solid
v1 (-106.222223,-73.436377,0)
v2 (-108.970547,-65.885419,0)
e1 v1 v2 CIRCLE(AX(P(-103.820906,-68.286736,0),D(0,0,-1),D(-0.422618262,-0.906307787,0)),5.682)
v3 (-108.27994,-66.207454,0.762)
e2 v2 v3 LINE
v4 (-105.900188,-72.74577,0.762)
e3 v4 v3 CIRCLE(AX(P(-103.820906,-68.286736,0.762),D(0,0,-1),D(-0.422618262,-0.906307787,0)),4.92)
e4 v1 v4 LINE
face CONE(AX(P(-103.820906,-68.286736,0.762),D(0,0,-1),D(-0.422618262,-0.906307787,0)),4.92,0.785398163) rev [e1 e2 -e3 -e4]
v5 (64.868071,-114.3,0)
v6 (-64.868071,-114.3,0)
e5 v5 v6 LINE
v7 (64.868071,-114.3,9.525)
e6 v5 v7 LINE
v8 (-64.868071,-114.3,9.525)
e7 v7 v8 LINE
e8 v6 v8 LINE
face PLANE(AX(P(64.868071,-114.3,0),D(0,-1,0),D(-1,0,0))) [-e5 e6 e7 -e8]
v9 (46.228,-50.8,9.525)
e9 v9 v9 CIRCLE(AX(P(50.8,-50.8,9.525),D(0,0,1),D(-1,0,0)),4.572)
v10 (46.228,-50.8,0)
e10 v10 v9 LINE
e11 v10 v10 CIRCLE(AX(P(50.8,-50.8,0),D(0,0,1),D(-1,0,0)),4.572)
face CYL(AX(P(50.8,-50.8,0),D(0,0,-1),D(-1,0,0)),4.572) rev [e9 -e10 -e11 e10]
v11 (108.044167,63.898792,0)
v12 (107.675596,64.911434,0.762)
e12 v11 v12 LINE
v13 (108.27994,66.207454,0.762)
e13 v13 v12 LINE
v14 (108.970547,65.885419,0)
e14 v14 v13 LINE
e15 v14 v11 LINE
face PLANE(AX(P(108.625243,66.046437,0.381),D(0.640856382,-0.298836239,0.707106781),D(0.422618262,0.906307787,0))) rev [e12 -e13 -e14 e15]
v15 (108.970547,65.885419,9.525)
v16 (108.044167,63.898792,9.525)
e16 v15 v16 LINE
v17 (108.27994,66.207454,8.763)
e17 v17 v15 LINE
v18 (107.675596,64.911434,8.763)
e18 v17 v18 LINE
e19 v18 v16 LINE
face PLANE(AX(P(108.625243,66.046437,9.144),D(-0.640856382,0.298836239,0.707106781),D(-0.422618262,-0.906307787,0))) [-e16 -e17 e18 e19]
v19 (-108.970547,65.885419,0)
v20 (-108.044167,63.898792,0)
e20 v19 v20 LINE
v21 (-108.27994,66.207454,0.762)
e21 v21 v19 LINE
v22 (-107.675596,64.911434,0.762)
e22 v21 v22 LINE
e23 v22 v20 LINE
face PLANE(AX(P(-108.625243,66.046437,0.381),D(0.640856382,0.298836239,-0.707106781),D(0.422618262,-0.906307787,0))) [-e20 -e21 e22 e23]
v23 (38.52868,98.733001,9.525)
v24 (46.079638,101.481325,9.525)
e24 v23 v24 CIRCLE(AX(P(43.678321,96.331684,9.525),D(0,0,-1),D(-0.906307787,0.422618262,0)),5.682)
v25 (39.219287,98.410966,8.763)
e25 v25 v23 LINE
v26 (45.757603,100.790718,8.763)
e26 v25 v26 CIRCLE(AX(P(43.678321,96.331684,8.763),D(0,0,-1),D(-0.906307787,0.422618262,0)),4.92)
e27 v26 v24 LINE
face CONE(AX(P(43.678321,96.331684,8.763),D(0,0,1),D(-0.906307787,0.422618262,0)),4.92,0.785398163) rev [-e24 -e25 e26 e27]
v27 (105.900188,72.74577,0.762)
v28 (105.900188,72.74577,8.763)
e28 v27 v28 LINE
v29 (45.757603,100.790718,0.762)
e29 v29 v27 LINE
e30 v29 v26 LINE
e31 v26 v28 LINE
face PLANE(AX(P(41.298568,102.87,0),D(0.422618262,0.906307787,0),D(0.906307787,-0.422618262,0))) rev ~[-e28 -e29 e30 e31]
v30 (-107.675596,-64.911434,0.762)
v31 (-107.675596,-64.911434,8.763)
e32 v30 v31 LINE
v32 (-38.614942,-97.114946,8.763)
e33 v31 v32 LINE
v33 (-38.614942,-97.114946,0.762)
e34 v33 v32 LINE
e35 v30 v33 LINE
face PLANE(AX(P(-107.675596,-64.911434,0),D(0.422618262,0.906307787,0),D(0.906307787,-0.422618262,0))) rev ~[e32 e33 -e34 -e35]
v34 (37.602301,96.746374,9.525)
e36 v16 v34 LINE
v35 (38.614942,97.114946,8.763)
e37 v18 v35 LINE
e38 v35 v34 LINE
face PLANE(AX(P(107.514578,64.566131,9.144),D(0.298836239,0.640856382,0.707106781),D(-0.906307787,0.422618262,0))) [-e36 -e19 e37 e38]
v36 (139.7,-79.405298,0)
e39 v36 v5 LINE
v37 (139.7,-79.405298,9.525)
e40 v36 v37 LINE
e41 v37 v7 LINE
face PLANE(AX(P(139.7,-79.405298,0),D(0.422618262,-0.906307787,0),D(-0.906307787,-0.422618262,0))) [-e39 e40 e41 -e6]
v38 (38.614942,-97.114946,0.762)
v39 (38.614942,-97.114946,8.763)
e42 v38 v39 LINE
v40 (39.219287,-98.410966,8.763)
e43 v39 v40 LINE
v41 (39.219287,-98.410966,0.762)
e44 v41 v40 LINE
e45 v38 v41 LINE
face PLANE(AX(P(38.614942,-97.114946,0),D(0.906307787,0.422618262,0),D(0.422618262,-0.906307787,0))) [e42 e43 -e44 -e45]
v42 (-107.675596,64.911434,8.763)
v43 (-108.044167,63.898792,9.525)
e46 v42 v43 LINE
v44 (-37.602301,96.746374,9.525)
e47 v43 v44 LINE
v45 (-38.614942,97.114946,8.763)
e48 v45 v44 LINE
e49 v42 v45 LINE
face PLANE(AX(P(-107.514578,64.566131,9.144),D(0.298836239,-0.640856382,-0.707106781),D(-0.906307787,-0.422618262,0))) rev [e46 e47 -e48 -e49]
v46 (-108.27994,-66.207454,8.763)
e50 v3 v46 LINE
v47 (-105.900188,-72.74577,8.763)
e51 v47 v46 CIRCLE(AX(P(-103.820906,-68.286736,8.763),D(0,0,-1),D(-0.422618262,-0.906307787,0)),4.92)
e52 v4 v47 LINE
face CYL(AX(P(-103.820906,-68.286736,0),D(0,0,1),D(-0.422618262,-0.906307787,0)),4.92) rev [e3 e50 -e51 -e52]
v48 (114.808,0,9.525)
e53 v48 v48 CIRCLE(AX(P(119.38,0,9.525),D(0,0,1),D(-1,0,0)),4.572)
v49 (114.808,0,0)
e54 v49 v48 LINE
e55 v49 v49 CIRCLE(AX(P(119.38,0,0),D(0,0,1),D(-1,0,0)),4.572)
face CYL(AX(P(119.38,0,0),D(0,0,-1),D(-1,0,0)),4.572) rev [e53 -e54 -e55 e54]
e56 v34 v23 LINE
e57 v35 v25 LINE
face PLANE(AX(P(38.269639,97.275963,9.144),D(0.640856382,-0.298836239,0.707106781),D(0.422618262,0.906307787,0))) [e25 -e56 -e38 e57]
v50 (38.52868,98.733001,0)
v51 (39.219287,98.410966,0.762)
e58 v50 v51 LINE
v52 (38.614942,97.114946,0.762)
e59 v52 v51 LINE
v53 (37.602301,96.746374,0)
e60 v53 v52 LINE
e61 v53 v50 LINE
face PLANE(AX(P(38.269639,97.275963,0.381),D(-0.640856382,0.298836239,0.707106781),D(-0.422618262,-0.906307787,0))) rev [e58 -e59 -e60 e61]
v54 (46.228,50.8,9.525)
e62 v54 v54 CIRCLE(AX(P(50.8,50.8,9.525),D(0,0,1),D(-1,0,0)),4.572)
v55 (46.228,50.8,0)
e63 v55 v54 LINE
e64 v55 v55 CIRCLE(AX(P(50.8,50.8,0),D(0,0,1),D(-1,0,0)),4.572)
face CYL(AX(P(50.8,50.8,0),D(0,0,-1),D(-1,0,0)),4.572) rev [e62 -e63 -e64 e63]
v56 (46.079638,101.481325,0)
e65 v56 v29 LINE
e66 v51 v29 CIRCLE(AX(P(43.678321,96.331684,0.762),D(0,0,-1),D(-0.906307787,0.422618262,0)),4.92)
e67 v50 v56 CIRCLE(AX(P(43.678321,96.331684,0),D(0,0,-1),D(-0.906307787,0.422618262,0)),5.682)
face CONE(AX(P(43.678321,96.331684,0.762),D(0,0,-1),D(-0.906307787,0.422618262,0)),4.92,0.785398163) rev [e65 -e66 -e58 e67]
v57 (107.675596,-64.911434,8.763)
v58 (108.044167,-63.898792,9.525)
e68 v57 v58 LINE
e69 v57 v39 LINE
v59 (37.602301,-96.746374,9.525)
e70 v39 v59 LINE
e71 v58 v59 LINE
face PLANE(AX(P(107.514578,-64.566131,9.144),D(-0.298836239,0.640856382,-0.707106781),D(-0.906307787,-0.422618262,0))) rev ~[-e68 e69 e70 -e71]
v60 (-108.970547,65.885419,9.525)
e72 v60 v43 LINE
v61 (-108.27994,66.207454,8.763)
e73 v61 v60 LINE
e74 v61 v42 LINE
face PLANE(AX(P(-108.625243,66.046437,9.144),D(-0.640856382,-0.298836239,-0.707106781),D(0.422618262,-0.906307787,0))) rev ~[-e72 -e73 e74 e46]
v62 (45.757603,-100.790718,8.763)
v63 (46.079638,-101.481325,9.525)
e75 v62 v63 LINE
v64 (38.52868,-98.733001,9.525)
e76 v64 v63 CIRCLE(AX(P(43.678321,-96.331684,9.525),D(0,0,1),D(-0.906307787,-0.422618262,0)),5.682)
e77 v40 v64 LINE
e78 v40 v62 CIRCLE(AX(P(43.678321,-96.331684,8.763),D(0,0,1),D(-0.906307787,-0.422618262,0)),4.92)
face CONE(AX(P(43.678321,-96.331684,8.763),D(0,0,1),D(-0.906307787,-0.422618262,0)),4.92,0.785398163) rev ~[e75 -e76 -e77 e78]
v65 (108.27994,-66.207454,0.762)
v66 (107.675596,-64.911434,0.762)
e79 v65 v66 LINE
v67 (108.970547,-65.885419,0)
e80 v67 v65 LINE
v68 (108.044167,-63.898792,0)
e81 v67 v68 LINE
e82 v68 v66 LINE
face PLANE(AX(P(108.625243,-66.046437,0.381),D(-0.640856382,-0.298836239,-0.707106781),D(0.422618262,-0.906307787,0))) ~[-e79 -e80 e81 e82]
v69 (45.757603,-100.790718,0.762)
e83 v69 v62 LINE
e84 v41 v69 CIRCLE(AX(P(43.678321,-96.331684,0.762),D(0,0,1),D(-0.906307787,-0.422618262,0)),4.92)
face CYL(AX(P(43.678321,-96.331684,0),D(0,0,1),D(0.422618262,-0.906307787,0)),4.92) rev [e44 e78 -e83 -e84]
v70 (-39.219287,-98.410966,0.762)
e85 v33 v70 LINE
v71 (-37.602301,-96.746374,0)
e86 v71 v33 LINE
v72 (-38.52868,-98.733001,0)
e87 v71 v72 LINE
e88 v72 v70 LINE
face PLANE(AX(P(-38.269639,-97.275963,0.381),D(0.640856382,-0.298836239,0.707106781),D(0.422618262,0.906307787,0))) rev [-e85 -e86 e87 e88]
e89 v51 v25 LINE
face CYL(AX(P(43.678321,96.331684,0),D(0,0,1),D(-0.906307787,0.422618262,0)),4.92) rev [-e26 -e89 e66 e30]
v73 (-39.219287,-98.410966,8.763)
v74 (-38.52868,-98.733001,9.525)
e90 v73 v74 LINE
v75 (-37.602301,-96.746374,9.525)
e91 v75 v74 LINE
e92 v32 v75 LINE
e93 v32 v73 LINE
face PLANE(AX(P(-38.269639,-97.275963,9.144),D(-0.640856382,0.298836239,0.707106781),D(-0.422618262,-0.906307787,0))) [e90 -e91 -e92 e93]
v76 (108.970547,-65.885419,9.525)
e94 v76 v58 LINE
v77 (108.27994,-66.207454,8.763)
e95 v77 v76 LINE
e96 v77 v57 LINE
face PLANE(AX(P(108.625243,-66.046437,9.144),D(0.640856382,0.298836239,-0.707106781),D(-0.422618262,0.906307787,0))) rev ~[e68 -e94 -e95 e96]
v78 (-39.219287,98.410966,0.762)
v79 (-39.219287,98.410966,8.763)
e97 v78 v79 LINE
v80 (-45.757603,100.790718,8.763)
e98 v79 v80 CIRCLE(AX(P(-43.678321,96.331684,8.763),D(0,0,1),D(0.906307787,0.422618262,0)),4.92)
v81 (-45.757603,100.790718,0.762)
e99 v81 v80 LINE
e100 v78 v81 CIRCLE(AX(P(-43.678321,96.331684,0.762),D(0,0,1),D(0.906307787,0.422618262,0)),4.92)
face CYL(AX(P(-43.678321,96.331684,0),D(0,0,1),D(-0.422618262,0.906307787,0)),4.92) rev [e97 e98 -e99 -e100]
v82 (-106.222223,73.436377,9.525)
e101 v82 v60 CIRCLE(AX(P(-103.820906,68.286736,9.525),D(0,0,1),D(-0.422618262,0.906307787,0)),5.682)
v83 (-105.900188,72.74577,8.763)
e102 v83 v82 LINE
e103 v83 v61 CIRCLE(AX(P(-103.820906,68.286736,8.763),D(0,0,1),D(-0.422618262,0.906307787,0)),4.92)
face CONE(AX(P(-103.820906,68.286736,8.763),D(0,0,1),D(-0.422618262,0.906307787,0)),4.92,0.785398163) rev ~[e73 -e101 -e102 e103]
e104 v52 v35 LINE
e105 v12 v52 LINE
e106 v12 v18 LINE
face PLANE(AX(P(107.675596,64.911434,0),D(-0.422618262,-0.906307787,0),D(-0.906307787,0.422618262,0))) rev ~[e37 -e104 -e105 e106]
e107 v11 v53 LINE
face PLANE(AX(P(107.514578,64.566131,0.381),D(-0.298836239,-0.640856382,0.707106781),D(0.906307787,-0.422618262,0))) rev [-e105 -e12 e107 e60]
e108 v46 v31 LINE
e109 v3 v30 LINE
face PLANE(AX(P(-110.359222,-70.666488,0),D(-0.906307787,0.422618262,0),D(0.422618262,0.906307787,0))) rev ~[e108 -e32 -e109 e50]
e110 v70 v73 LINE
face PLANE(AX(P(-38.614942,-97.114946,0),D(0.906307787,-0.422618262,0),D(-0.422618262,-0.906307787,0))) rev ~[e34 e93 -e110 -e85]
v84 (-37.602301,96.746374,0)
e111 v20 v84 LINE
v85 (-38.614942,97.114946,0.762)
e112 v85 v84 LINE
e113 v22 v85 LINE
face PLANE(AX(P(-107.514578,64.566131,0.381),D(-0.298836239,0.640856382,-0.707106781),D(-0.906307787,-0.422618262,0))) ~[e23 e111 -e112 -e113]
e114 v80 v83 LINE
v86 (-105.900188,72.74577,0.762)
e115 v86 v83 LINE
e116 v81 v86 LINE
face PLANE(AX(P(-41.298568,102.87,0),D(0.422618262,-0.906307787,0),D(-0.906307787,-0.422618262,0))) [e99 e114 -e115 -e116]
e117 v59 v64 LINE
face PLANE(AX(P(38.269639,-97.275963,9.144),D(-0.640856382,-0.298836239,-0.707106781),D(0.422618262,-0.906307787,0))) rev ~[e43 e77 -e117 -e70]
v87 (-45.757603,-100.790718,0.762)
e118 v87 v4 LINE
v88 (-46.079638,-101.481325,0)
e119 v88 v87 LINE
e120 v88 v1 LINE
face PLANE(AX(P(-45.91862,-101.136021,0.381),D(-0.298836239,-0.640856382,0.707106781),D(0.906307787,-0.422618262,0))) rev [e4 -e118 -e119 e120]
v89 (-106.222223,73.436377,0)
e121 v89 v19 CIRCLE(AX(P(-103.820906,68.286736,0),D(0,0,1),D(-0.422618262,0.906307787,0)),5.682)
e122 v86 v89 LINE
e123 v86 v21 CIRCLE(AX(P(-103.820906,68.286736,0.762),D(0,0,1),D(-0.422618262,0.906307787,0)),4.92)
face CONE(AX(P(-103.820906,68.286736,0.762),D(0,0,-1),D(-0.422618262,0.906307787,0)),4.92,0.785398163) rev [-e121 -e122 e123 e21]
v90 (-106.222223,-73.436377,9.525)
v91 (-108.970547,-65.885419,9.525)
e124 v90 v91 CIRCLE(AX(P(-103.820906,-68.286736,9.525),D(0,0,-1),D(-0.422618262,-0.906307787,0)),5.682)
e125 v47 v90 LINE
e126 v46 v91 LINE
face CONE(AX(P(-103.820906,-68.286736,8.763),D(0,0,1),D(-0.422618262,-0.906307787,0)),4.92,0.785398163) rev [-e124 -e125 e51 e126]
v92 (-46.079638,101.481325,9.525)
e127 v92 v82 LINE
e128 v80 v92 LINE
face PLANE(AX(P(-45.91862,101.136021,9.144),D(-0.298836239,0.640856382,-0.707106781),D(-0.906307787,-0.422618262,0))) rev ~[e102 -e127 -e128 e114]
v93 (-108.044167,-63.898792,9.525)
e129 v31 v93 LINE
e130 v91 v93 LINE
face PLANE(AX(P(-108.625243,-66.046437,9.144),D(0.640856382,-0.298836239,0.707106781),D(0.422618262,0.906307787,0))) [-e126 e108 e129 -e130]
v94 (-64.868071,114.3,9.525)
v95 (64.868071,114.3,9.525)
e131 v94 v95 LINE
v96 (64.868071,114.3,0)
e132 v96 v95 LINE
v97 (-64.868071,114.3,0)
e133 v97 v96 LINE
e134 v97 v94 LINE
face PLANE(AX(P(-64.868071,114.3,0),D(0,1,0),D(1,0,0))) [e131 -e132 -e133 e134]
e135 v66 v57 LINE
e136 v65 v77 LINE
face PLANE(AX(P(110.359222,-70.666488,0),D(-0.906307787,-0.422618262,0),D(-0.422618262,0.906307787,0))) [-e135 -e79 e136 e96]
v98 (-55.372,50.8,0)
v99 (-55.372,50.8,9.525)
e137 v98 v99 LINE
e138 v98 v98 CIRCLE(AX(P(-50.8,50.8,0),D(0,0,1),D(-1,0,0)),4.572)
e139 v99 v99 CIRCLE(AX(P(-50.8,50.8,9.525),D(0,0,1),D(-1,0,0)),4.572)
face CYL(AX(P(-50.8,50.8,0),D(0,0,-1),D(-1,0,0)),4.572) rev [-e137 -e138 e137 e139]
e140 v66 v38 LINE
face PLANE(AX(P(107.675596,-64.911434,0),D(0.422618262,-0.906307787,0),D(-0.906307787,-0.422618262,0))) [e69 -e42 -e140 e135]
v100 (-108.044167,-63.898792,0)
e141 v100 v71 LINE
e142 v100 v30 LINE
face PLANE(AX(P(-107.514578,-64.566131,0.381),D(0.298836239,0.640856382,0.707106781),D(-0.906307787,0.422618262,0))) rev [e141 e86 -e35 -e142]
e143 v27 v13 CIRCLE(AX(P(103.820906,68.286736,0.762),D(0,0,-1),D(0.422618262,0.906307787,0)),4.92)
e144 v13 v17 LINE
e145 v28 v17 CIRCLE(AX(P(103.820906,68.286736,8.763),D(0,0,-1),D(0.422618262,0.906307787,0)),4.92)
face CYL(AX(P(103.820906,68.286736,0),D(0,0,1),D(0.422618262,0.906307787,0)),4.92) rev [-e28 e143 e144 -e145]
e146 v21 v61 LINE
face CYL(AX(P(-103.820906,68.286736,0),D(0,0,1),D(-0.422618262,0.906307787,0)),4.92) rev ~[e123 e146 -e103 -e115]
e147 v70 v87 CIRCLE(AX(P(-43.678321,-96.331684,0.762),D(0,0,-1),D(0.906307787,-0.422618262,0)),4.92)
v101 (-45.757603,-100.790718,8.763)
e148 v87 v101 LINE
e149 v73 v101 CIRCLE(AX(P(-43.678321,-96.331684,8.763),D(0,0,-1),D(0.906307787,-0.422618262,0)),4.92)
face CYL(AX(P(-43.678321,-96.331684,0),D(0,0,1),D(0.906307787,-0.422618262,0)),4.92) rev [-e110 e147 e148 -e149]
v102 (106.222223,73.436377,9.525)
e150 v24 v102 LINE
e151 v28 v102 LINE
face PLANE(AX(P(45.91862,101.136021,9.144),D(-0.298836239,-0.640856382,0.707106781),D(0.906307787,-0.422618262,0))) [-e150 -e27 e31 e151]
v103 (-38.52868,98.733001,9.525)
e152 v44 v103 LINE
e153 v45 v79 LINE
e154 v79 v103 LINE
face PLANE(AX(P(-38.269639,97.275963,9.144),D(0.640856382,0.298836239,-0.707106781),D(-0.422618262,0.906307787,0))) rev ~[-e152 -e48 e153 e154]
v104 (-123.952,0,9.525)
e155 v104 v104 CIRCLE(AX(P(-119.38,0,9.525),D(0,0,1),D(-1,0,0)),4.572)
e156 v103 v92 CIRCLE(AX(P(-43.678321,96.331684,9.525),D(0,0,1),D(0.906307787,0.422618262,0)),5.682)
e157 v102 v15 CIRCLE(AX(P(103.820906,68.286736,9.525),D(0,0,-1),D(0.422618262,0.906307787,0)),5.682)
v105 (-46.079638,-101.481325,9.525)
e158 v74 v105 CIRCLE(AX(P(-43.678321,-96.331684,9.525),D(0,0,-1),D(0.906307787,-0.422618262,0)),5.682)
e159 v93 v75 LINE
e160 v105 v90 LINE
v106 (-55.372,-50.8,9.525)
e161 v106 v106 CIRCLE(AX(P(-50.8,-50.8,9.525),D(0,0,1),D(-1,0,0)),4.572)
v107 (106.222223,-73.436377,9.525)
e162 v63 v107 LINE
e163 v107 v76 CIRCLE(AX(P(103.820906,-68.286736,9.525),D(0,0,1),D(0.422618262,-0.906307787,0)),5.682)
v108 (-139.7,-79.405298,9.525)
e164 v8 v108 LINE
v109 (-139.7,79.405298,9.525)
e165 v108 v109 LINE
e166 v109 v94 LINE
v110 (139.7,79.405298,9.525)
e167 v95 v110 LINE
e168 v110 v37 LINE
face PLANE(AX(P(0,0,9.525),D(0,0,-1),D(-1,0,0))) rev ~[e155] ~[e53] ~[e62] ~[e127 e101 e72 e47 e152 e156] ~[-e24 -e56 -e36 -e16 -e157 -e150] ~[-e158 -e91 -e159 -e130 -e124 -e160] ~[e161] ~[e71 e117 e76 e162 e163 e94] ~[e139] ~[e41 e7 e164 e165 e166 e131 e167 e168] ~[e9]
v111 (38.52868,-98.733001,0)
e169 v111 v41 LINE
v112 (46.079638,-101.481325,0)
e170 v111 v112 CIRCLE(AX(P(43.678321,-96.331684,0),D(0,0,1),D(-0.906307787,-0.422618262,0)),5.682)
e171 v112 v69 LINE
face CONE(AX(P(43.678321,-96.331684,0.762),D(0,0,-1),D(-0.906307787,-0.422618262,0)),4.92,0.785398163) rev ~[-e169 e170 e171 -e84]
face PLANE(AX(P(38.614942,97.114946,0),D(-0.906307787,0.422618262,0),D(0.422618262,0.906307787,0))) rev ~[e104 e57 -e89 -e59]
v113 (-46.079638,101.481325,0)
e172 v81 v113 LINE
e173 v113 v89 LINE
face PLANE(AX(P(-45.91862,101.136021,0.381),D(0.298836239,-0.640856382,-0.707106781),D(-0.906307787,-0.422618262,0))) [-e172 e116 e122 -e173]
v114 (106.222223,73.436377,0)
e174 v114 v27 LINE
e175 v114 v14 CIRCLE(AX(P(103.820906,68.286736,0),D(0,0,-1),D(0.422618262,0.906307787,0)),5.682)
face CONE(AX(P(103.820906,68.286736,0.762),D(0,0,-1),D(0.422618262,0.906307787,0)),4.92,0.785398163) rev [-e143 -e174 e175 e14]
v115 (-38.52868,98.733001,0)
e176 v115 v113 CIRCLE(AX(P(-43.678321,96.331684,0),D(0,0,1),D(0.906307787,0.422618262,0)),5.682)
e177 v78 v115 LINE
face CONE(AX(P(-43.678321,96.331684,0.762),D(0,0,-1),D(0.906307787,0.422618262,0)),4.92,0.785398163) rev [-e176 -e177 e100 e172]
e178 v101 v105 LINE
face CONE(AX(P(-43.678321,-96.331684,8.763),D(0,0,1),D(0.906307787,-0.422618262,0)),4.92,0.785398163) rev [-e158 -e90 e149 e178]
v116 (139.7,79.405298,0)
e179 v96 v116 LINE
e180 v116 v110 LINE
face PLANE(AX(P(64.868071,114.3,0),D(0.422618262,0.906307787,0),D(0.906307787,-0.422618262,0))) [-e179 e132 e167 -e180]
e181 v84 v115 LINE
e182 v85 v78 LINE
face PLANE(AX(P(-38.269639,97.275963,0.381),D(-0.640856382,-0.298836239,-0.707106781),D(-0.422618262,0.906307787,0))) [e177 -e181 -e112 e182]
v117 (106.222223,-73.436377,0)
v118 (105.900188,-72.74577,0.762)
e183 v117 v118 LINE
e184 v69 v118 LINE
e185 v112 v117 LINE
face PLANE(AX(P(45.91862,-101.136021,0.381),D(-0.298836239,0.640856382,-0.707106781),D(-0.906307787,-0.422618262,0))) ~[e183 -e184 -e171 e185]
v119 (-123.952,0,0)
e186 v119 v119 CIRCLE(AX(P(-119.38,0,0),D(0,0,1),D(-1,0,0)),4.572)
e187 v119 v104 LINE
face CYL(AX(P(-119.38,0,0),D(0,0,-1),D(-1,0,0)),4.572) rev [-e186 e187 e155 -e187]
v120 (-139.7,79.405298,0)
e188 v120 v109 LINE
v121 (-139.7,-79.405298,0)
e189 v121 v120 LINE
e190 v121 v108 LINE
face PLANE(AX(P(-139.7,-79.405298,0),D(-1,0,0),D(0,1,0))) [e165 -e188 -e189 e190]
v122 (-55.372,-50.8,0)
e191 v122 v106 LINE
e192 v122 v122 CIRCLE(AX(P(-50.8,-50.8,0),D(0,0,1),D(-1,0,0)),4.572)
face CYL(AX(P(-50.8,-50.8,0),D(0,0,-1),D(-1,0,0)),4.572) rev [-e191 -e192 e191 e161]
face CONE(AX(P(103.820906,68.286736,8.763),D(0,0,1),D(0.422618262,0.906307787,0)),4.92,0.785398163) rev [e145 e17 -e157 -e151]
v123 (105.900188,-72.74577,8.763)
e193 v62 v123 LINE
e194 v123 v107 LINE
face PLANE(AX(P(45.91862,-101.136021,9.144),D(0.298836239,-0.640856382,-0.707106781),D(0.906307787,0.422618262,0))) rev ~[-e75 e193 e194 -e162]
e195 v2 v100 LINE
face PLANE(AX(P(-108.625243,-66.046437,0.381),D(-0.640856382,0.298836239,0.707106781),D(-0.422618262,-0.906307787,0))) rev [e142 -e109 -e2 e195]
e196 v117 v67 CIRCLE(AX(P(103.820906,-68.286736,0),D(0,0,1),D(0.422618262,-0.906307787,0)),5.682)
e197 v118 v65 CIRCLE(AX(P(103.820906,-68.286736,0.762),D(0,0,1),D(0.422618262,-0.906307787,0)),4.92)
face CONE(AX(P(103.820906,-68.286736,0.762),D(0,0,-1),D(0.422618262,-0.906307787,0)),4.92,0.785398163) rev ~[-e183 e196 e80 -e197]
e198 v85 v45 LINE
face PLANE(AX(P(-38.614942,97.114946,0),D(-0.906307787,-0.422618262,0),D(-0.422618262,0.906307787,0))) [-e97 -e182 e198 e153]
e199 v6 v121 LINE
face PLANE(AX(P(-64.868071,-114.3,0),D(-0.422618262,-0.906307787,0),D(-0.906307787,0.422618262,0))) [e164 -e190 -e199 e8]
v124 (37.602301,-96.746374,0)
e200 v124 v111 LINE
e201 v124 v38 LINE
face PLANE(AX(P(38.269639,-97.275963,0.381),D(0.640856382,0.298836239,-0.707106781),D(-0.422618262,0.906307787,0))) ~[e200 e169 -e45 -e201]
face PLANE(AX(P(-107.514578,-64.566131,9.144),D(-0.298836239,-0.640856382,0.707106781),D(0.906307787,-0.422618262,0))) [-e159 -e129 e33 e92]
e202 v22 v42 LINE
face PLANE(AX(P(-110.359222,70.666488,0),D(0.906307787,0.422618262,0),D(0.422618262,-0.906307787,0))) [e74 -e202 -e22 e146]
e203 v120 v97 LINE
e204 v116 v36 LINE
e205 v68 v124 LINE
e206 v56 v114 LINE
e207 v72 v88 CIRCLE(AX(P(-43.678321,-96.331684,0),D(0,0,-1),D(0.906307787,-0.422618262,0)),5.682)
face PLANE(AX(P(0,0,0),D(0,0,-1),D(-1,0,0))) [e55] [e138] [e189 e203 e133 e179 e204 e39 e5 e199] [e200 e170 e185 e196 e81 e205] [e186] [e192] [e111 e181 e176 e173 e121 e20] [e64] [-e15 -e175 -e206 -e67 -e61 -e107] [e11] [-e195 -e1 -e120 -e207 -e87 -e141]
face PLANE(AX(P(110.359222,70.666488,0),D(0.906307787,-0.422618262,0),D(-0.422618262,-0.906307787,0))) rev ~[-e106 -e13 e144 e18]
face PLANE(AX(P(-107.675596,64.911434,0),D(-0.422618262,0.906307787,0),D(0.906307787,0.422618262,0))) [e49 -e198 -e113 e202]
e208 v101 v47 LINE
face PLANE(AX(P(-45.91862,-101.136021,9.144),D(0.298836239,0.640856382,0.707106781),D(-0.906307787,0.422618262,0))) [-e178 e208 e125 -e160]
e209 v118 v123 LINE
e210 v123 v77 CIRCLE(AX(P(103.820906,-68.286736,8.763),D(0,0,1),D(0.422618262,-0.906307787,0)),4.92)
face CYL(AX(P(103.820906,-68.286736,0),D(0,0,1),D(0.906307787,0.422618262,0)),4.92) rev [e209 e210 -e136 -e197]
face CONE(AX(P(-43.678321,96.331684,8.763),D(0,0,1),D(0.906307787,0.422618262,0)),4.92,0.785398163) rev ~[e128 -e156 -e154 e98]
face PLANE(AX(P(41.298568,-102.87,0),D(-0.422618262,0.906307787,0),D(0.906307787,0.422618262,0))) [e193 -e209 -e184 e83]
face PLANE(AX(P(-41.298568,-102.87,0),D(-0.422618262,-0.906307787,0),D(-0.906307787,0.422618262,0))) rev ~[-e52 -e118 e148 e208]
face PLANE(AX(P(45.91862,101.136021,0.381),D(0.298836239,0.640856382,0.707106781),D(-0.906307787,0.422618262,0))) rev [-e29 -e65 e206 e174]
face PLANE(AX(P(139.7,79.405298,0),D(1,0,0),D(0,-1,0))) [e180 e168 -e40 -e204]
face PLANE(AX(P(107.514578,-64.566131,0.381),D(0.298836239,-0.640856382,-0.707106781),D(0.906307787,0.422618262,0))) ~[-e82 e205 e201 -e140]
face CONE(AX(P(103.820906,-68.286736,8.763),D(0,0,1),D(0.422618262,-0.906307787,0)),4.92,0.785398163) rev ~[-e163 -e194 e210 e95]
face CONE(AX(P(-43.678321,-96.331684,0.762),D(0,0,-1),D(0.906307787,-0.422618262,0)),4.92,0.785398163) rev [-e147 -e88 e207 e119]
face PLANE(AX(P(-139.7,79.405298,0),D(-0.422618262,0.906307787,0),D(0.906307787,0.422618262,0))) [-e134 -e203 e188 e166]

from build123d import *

# Parameters (mm, degrees)
SKETCH3_R           = 4.572
BOSS_EXTRUDE1_DEPTH = 9.525
FILLET1_R           = 4.92
FILLET2_R           = 4.92
CHAMFER1_SIZE       = 0.762
CHAMFER2_SIZE       = 0.762
FILLET3_R           = 4.92
FILLET4_R           = 4.92
FILLET5_R           = 4.92
FILLET6_R           = 4.92
FILLET7_R           = 4.92
FILLET8_R           = 4.92
CHAMFER3_SIZE       = 0.762
CHAMFER4_SIZE       = 0.762
CHAMFER5_SIZE       = 0.762


with BuildPart() as part:
    # Sketch3 → Boss-Extrude1 (new body)
    with BuildSketch(Plane.XY):
        Polygon((64.86807053, -114.3), (-64.86807053, -114.3), (-139.7, -79.405298214), (-139.7, 79.405298214), (-64.86807053, 114.3), (64.86807053, 114.3), (139.7, 79.405298214), (139.7, -79.405298214), align=None)
        with Locations(Location((-50.8, 50.8, 0), (0, 0, 180))):
            Circle(SKETCH3_R, mode=Mode.SUBTRACT)
        with Locations(Location((50.8, 50.8, 0), (0, 0, 180))):
            Circle(SKETCH3_R, mode=Mode.SUBTRACT)
        with Locations(Location((50.8, -50.8, 0), (0, 0, 180))):
            Circle(SKETCH3_R, mode=Mode.SUBTRACT)
        with Locations(Location((-50.8, -50.8, 0), (0, 0, 180))):
            Circle(SKETCH3_R, mode=Mode.SUBTRACT)
        with Locations(Location((-119.38, 0, 0), (0, 0, 180))):
            Circle(SKETCH3_R, mode=Mode.SUBTRACT)
        with Locations(Location((119.38, 0, 0), (0, 0, 180))):
            Circle(SKETCH3_R, mode=Mode.SUBTRACT)
        Polygon((-107.675595872, 64.911434008), (-38.6149425, 97.114945552), (-41.298568462, 102.87), (-110.359221834, 70.666488455), align=None, mode=Mode.SUBTRACT)
        Polygon((38.6149425, 97.114945552), (41.298568462, 102.87), (110.359221834, 70.666488455), (107.675595872, 64.911434008), align=None, mode=Mode.SUBTRACT)
        Polygon((-38.6149425, -97.114945552), (-41.298568462, -102.87), (-110.359221834, -70.666488455), (-107.675595872, -64.911434008), align=None, mode=Mode.SUBTRACT)
        Polygon((107.675595872, -64.911434008), (38.6149425, -97.114945552), (41.298568462, -102.87), (110.359221834, -70.666488455), align=None, mode=Mode.SUBTRACT)
    extrude(amount=BOSS_EXTRUDE1_DEPTH)

    # Fillet1
    fillet1_edges = [part.edges().sort_by_distance(p)[0] for p in [
        (-41.298568462, 102.87, 4.7625),
    ]]
    fillet(fillet1_edges, radius=FILLET1_R)

    # Fillet2
    fillet2_edges = [part.edges().sort_by_distance(p)[0] for p in [
        (-110.359221834, 70.666488455, 4.7625),
    ]]
    fillet(fillet2_edges, radius=FILLET2_R)

    # Chamfer1
    chamfer1_edges = [part.edges().sort_by_distance(p)[0] for p in [
        (-75.828895148, 86.768244228, 9.525),
        (-41.995581821, 100.954971534, 9.525),
        (-107.977767929, 65.559444075, 9.525),
        (-108.444193368, 69.969475096, 9.525),
        (-73.145269186, 81.01318978, 9.525),
        (-38.917114557, 97.76295562, 9.525),
    ]]
    chamfer(chamfer1_edges, length=CHAMFER1_SIZE)

    # Chamfer2
    chamfer2_edges = [part.edges().sort_by_distance(p)[0] for p in [
        (-75.828895148, 86.768244228, 0),
        (-41.995581821, 100.954971534, 0),
        (-107.977767929, 65.559444075, 0),
        (-108.444193368, 69.969475096, 0),
        (-73.145269186, 81.01318978, 0),
        (-38.917114557, 97.76295562, 0),
    ]]
    chamfer(chamfer2_edges, length=CHAMFER2_SIZE)

    # Fillet3
    fillet3_edges = [part.edges().sort_by_distance(p)[0] for p in [
        (41.298568462, 102.87, 4.7625),
    ]]
    fillet(fillet3_edges, radius=FILLET3_R)

    # Fillet4
    fillet4_edges = [part.edges().sort_by_distance(p)[0] for p in [
        (110.359221834, 70.666488455, 4.7625),
    ]]
    fillet(fillet4_edges, radius=FILLET4_R)

    # Fillet5
    fillet5_edges = [part.edges().sort_by_distance(p)[0] for p in [
        (110.359221834, -70.666488455, 4.7625),
    ]]
    fillet(fillet5_edges, radius=FILLET5_R)

    # Fillet6
    fillet6_edges = [part.edges().sort_by_distance(p)[0] for p in [
        (41.298568462, -102.87, 4.7625),
    ]]
    fillet(fillet6_edges, radius=FILLET6_R)

    # Fillet7
    fillet7_edges = [part.edges().sort_by_distance(p)[0] for p in [
        (-41.298568462, -102.87, 4.7625),
    ]]
    fillet(fillet7_edges, radius=FILLET7_R)

    # Fillet8
    fillet8_edges = [part.edges().sort_by_distance(p)[0] for p in [
        (-110.359221834, -70.666488455, 4.7625),
    ]]
    fillet(fillet8_edges, radius=FILLET8_R)

    # Chamfer3
    chamfer3_edges = [part.edges().sort_by_distance(p)[0] for p in [
        (38.917114557, 97.76295562, 0),
        (38.917114557, 97.76295562, 9.525),
        (41.995581821, 100.954971534, 0),
        (41.995581821, 100.954971534, 9.525),
        (75.828895148, 86.768244228, 9.525),
        (75.828895148, 86.768244228, 0),
        (108.444193368, 69.969475096, 0),
        (108.444193368, 69.969475096, 9.525),
        (73.145269186, 81.01318978, 0),
        (107.977767929, 65.559444075, 0),
        (73.145269186, 81.01318978, 9.525),
        (107.977767929, 65.559444075, 9.525),
    ]]
    chamfer(chamfer3_edges, length=CHAMFER3_SIZE)

    # Chamfer4
    chamfer4_edges = [part.edges().sort_by_distance(p)[0] for p in [
        (-38.917114557, -97.76295562, 0),
        (-38.917114557, -97.76295562, 9.525),
        (-41.995581821, -100.954971534, 0),
        (-41.995581821, -100.954971534, 9.525),
        (-75.828895148, -86.768244228, 9.525),
        (-75.828895148, -86.768244228, 0),
        (-108.444193368, -69.969475096, 9.525),
        (-108.444193368, -69.969475096, 0),
        (-73.145269186, -81.01318978, 0),
        (-107.977767929, -65.559444075, 0),
        (-73.145269186, -81.01318978, 9.525),
        (-107.977767929, -65.559444075, 9.525),
    ]]
    chamfer(chamfer4_edges, length=CHAMFER4_SIZE)

    # Chamfer5
    chamfer5_edges = [part.edges().sort_by_distance(p)[0] for p in [
        (107.977767929, -65.559444075, 0),
        (107.977767929, -65.559444075, 9.525),
        (108.444193368, -69.969475096, 0),
        (108.444193368, -69.969475096, 9.525),
        (75.828895148, -86.768244228, 9.525),
        (75.828895148, -86.768244228, 0),
        (41.995581821, -100.954971534, 9.525),
        (41.995581821, -100.954971534, 0),
        (73.145269186, -81.01318978, 0),
        (38.917114557, -97.76295562, 0),
        (73.145269186, -81.01318978, 9.525),
        (38.917114557, -97.76295562, 9.525),
    ]]
    chamfer(chamfer5_edges, length=CHAMFER5_SIZE)


solid = part.part
